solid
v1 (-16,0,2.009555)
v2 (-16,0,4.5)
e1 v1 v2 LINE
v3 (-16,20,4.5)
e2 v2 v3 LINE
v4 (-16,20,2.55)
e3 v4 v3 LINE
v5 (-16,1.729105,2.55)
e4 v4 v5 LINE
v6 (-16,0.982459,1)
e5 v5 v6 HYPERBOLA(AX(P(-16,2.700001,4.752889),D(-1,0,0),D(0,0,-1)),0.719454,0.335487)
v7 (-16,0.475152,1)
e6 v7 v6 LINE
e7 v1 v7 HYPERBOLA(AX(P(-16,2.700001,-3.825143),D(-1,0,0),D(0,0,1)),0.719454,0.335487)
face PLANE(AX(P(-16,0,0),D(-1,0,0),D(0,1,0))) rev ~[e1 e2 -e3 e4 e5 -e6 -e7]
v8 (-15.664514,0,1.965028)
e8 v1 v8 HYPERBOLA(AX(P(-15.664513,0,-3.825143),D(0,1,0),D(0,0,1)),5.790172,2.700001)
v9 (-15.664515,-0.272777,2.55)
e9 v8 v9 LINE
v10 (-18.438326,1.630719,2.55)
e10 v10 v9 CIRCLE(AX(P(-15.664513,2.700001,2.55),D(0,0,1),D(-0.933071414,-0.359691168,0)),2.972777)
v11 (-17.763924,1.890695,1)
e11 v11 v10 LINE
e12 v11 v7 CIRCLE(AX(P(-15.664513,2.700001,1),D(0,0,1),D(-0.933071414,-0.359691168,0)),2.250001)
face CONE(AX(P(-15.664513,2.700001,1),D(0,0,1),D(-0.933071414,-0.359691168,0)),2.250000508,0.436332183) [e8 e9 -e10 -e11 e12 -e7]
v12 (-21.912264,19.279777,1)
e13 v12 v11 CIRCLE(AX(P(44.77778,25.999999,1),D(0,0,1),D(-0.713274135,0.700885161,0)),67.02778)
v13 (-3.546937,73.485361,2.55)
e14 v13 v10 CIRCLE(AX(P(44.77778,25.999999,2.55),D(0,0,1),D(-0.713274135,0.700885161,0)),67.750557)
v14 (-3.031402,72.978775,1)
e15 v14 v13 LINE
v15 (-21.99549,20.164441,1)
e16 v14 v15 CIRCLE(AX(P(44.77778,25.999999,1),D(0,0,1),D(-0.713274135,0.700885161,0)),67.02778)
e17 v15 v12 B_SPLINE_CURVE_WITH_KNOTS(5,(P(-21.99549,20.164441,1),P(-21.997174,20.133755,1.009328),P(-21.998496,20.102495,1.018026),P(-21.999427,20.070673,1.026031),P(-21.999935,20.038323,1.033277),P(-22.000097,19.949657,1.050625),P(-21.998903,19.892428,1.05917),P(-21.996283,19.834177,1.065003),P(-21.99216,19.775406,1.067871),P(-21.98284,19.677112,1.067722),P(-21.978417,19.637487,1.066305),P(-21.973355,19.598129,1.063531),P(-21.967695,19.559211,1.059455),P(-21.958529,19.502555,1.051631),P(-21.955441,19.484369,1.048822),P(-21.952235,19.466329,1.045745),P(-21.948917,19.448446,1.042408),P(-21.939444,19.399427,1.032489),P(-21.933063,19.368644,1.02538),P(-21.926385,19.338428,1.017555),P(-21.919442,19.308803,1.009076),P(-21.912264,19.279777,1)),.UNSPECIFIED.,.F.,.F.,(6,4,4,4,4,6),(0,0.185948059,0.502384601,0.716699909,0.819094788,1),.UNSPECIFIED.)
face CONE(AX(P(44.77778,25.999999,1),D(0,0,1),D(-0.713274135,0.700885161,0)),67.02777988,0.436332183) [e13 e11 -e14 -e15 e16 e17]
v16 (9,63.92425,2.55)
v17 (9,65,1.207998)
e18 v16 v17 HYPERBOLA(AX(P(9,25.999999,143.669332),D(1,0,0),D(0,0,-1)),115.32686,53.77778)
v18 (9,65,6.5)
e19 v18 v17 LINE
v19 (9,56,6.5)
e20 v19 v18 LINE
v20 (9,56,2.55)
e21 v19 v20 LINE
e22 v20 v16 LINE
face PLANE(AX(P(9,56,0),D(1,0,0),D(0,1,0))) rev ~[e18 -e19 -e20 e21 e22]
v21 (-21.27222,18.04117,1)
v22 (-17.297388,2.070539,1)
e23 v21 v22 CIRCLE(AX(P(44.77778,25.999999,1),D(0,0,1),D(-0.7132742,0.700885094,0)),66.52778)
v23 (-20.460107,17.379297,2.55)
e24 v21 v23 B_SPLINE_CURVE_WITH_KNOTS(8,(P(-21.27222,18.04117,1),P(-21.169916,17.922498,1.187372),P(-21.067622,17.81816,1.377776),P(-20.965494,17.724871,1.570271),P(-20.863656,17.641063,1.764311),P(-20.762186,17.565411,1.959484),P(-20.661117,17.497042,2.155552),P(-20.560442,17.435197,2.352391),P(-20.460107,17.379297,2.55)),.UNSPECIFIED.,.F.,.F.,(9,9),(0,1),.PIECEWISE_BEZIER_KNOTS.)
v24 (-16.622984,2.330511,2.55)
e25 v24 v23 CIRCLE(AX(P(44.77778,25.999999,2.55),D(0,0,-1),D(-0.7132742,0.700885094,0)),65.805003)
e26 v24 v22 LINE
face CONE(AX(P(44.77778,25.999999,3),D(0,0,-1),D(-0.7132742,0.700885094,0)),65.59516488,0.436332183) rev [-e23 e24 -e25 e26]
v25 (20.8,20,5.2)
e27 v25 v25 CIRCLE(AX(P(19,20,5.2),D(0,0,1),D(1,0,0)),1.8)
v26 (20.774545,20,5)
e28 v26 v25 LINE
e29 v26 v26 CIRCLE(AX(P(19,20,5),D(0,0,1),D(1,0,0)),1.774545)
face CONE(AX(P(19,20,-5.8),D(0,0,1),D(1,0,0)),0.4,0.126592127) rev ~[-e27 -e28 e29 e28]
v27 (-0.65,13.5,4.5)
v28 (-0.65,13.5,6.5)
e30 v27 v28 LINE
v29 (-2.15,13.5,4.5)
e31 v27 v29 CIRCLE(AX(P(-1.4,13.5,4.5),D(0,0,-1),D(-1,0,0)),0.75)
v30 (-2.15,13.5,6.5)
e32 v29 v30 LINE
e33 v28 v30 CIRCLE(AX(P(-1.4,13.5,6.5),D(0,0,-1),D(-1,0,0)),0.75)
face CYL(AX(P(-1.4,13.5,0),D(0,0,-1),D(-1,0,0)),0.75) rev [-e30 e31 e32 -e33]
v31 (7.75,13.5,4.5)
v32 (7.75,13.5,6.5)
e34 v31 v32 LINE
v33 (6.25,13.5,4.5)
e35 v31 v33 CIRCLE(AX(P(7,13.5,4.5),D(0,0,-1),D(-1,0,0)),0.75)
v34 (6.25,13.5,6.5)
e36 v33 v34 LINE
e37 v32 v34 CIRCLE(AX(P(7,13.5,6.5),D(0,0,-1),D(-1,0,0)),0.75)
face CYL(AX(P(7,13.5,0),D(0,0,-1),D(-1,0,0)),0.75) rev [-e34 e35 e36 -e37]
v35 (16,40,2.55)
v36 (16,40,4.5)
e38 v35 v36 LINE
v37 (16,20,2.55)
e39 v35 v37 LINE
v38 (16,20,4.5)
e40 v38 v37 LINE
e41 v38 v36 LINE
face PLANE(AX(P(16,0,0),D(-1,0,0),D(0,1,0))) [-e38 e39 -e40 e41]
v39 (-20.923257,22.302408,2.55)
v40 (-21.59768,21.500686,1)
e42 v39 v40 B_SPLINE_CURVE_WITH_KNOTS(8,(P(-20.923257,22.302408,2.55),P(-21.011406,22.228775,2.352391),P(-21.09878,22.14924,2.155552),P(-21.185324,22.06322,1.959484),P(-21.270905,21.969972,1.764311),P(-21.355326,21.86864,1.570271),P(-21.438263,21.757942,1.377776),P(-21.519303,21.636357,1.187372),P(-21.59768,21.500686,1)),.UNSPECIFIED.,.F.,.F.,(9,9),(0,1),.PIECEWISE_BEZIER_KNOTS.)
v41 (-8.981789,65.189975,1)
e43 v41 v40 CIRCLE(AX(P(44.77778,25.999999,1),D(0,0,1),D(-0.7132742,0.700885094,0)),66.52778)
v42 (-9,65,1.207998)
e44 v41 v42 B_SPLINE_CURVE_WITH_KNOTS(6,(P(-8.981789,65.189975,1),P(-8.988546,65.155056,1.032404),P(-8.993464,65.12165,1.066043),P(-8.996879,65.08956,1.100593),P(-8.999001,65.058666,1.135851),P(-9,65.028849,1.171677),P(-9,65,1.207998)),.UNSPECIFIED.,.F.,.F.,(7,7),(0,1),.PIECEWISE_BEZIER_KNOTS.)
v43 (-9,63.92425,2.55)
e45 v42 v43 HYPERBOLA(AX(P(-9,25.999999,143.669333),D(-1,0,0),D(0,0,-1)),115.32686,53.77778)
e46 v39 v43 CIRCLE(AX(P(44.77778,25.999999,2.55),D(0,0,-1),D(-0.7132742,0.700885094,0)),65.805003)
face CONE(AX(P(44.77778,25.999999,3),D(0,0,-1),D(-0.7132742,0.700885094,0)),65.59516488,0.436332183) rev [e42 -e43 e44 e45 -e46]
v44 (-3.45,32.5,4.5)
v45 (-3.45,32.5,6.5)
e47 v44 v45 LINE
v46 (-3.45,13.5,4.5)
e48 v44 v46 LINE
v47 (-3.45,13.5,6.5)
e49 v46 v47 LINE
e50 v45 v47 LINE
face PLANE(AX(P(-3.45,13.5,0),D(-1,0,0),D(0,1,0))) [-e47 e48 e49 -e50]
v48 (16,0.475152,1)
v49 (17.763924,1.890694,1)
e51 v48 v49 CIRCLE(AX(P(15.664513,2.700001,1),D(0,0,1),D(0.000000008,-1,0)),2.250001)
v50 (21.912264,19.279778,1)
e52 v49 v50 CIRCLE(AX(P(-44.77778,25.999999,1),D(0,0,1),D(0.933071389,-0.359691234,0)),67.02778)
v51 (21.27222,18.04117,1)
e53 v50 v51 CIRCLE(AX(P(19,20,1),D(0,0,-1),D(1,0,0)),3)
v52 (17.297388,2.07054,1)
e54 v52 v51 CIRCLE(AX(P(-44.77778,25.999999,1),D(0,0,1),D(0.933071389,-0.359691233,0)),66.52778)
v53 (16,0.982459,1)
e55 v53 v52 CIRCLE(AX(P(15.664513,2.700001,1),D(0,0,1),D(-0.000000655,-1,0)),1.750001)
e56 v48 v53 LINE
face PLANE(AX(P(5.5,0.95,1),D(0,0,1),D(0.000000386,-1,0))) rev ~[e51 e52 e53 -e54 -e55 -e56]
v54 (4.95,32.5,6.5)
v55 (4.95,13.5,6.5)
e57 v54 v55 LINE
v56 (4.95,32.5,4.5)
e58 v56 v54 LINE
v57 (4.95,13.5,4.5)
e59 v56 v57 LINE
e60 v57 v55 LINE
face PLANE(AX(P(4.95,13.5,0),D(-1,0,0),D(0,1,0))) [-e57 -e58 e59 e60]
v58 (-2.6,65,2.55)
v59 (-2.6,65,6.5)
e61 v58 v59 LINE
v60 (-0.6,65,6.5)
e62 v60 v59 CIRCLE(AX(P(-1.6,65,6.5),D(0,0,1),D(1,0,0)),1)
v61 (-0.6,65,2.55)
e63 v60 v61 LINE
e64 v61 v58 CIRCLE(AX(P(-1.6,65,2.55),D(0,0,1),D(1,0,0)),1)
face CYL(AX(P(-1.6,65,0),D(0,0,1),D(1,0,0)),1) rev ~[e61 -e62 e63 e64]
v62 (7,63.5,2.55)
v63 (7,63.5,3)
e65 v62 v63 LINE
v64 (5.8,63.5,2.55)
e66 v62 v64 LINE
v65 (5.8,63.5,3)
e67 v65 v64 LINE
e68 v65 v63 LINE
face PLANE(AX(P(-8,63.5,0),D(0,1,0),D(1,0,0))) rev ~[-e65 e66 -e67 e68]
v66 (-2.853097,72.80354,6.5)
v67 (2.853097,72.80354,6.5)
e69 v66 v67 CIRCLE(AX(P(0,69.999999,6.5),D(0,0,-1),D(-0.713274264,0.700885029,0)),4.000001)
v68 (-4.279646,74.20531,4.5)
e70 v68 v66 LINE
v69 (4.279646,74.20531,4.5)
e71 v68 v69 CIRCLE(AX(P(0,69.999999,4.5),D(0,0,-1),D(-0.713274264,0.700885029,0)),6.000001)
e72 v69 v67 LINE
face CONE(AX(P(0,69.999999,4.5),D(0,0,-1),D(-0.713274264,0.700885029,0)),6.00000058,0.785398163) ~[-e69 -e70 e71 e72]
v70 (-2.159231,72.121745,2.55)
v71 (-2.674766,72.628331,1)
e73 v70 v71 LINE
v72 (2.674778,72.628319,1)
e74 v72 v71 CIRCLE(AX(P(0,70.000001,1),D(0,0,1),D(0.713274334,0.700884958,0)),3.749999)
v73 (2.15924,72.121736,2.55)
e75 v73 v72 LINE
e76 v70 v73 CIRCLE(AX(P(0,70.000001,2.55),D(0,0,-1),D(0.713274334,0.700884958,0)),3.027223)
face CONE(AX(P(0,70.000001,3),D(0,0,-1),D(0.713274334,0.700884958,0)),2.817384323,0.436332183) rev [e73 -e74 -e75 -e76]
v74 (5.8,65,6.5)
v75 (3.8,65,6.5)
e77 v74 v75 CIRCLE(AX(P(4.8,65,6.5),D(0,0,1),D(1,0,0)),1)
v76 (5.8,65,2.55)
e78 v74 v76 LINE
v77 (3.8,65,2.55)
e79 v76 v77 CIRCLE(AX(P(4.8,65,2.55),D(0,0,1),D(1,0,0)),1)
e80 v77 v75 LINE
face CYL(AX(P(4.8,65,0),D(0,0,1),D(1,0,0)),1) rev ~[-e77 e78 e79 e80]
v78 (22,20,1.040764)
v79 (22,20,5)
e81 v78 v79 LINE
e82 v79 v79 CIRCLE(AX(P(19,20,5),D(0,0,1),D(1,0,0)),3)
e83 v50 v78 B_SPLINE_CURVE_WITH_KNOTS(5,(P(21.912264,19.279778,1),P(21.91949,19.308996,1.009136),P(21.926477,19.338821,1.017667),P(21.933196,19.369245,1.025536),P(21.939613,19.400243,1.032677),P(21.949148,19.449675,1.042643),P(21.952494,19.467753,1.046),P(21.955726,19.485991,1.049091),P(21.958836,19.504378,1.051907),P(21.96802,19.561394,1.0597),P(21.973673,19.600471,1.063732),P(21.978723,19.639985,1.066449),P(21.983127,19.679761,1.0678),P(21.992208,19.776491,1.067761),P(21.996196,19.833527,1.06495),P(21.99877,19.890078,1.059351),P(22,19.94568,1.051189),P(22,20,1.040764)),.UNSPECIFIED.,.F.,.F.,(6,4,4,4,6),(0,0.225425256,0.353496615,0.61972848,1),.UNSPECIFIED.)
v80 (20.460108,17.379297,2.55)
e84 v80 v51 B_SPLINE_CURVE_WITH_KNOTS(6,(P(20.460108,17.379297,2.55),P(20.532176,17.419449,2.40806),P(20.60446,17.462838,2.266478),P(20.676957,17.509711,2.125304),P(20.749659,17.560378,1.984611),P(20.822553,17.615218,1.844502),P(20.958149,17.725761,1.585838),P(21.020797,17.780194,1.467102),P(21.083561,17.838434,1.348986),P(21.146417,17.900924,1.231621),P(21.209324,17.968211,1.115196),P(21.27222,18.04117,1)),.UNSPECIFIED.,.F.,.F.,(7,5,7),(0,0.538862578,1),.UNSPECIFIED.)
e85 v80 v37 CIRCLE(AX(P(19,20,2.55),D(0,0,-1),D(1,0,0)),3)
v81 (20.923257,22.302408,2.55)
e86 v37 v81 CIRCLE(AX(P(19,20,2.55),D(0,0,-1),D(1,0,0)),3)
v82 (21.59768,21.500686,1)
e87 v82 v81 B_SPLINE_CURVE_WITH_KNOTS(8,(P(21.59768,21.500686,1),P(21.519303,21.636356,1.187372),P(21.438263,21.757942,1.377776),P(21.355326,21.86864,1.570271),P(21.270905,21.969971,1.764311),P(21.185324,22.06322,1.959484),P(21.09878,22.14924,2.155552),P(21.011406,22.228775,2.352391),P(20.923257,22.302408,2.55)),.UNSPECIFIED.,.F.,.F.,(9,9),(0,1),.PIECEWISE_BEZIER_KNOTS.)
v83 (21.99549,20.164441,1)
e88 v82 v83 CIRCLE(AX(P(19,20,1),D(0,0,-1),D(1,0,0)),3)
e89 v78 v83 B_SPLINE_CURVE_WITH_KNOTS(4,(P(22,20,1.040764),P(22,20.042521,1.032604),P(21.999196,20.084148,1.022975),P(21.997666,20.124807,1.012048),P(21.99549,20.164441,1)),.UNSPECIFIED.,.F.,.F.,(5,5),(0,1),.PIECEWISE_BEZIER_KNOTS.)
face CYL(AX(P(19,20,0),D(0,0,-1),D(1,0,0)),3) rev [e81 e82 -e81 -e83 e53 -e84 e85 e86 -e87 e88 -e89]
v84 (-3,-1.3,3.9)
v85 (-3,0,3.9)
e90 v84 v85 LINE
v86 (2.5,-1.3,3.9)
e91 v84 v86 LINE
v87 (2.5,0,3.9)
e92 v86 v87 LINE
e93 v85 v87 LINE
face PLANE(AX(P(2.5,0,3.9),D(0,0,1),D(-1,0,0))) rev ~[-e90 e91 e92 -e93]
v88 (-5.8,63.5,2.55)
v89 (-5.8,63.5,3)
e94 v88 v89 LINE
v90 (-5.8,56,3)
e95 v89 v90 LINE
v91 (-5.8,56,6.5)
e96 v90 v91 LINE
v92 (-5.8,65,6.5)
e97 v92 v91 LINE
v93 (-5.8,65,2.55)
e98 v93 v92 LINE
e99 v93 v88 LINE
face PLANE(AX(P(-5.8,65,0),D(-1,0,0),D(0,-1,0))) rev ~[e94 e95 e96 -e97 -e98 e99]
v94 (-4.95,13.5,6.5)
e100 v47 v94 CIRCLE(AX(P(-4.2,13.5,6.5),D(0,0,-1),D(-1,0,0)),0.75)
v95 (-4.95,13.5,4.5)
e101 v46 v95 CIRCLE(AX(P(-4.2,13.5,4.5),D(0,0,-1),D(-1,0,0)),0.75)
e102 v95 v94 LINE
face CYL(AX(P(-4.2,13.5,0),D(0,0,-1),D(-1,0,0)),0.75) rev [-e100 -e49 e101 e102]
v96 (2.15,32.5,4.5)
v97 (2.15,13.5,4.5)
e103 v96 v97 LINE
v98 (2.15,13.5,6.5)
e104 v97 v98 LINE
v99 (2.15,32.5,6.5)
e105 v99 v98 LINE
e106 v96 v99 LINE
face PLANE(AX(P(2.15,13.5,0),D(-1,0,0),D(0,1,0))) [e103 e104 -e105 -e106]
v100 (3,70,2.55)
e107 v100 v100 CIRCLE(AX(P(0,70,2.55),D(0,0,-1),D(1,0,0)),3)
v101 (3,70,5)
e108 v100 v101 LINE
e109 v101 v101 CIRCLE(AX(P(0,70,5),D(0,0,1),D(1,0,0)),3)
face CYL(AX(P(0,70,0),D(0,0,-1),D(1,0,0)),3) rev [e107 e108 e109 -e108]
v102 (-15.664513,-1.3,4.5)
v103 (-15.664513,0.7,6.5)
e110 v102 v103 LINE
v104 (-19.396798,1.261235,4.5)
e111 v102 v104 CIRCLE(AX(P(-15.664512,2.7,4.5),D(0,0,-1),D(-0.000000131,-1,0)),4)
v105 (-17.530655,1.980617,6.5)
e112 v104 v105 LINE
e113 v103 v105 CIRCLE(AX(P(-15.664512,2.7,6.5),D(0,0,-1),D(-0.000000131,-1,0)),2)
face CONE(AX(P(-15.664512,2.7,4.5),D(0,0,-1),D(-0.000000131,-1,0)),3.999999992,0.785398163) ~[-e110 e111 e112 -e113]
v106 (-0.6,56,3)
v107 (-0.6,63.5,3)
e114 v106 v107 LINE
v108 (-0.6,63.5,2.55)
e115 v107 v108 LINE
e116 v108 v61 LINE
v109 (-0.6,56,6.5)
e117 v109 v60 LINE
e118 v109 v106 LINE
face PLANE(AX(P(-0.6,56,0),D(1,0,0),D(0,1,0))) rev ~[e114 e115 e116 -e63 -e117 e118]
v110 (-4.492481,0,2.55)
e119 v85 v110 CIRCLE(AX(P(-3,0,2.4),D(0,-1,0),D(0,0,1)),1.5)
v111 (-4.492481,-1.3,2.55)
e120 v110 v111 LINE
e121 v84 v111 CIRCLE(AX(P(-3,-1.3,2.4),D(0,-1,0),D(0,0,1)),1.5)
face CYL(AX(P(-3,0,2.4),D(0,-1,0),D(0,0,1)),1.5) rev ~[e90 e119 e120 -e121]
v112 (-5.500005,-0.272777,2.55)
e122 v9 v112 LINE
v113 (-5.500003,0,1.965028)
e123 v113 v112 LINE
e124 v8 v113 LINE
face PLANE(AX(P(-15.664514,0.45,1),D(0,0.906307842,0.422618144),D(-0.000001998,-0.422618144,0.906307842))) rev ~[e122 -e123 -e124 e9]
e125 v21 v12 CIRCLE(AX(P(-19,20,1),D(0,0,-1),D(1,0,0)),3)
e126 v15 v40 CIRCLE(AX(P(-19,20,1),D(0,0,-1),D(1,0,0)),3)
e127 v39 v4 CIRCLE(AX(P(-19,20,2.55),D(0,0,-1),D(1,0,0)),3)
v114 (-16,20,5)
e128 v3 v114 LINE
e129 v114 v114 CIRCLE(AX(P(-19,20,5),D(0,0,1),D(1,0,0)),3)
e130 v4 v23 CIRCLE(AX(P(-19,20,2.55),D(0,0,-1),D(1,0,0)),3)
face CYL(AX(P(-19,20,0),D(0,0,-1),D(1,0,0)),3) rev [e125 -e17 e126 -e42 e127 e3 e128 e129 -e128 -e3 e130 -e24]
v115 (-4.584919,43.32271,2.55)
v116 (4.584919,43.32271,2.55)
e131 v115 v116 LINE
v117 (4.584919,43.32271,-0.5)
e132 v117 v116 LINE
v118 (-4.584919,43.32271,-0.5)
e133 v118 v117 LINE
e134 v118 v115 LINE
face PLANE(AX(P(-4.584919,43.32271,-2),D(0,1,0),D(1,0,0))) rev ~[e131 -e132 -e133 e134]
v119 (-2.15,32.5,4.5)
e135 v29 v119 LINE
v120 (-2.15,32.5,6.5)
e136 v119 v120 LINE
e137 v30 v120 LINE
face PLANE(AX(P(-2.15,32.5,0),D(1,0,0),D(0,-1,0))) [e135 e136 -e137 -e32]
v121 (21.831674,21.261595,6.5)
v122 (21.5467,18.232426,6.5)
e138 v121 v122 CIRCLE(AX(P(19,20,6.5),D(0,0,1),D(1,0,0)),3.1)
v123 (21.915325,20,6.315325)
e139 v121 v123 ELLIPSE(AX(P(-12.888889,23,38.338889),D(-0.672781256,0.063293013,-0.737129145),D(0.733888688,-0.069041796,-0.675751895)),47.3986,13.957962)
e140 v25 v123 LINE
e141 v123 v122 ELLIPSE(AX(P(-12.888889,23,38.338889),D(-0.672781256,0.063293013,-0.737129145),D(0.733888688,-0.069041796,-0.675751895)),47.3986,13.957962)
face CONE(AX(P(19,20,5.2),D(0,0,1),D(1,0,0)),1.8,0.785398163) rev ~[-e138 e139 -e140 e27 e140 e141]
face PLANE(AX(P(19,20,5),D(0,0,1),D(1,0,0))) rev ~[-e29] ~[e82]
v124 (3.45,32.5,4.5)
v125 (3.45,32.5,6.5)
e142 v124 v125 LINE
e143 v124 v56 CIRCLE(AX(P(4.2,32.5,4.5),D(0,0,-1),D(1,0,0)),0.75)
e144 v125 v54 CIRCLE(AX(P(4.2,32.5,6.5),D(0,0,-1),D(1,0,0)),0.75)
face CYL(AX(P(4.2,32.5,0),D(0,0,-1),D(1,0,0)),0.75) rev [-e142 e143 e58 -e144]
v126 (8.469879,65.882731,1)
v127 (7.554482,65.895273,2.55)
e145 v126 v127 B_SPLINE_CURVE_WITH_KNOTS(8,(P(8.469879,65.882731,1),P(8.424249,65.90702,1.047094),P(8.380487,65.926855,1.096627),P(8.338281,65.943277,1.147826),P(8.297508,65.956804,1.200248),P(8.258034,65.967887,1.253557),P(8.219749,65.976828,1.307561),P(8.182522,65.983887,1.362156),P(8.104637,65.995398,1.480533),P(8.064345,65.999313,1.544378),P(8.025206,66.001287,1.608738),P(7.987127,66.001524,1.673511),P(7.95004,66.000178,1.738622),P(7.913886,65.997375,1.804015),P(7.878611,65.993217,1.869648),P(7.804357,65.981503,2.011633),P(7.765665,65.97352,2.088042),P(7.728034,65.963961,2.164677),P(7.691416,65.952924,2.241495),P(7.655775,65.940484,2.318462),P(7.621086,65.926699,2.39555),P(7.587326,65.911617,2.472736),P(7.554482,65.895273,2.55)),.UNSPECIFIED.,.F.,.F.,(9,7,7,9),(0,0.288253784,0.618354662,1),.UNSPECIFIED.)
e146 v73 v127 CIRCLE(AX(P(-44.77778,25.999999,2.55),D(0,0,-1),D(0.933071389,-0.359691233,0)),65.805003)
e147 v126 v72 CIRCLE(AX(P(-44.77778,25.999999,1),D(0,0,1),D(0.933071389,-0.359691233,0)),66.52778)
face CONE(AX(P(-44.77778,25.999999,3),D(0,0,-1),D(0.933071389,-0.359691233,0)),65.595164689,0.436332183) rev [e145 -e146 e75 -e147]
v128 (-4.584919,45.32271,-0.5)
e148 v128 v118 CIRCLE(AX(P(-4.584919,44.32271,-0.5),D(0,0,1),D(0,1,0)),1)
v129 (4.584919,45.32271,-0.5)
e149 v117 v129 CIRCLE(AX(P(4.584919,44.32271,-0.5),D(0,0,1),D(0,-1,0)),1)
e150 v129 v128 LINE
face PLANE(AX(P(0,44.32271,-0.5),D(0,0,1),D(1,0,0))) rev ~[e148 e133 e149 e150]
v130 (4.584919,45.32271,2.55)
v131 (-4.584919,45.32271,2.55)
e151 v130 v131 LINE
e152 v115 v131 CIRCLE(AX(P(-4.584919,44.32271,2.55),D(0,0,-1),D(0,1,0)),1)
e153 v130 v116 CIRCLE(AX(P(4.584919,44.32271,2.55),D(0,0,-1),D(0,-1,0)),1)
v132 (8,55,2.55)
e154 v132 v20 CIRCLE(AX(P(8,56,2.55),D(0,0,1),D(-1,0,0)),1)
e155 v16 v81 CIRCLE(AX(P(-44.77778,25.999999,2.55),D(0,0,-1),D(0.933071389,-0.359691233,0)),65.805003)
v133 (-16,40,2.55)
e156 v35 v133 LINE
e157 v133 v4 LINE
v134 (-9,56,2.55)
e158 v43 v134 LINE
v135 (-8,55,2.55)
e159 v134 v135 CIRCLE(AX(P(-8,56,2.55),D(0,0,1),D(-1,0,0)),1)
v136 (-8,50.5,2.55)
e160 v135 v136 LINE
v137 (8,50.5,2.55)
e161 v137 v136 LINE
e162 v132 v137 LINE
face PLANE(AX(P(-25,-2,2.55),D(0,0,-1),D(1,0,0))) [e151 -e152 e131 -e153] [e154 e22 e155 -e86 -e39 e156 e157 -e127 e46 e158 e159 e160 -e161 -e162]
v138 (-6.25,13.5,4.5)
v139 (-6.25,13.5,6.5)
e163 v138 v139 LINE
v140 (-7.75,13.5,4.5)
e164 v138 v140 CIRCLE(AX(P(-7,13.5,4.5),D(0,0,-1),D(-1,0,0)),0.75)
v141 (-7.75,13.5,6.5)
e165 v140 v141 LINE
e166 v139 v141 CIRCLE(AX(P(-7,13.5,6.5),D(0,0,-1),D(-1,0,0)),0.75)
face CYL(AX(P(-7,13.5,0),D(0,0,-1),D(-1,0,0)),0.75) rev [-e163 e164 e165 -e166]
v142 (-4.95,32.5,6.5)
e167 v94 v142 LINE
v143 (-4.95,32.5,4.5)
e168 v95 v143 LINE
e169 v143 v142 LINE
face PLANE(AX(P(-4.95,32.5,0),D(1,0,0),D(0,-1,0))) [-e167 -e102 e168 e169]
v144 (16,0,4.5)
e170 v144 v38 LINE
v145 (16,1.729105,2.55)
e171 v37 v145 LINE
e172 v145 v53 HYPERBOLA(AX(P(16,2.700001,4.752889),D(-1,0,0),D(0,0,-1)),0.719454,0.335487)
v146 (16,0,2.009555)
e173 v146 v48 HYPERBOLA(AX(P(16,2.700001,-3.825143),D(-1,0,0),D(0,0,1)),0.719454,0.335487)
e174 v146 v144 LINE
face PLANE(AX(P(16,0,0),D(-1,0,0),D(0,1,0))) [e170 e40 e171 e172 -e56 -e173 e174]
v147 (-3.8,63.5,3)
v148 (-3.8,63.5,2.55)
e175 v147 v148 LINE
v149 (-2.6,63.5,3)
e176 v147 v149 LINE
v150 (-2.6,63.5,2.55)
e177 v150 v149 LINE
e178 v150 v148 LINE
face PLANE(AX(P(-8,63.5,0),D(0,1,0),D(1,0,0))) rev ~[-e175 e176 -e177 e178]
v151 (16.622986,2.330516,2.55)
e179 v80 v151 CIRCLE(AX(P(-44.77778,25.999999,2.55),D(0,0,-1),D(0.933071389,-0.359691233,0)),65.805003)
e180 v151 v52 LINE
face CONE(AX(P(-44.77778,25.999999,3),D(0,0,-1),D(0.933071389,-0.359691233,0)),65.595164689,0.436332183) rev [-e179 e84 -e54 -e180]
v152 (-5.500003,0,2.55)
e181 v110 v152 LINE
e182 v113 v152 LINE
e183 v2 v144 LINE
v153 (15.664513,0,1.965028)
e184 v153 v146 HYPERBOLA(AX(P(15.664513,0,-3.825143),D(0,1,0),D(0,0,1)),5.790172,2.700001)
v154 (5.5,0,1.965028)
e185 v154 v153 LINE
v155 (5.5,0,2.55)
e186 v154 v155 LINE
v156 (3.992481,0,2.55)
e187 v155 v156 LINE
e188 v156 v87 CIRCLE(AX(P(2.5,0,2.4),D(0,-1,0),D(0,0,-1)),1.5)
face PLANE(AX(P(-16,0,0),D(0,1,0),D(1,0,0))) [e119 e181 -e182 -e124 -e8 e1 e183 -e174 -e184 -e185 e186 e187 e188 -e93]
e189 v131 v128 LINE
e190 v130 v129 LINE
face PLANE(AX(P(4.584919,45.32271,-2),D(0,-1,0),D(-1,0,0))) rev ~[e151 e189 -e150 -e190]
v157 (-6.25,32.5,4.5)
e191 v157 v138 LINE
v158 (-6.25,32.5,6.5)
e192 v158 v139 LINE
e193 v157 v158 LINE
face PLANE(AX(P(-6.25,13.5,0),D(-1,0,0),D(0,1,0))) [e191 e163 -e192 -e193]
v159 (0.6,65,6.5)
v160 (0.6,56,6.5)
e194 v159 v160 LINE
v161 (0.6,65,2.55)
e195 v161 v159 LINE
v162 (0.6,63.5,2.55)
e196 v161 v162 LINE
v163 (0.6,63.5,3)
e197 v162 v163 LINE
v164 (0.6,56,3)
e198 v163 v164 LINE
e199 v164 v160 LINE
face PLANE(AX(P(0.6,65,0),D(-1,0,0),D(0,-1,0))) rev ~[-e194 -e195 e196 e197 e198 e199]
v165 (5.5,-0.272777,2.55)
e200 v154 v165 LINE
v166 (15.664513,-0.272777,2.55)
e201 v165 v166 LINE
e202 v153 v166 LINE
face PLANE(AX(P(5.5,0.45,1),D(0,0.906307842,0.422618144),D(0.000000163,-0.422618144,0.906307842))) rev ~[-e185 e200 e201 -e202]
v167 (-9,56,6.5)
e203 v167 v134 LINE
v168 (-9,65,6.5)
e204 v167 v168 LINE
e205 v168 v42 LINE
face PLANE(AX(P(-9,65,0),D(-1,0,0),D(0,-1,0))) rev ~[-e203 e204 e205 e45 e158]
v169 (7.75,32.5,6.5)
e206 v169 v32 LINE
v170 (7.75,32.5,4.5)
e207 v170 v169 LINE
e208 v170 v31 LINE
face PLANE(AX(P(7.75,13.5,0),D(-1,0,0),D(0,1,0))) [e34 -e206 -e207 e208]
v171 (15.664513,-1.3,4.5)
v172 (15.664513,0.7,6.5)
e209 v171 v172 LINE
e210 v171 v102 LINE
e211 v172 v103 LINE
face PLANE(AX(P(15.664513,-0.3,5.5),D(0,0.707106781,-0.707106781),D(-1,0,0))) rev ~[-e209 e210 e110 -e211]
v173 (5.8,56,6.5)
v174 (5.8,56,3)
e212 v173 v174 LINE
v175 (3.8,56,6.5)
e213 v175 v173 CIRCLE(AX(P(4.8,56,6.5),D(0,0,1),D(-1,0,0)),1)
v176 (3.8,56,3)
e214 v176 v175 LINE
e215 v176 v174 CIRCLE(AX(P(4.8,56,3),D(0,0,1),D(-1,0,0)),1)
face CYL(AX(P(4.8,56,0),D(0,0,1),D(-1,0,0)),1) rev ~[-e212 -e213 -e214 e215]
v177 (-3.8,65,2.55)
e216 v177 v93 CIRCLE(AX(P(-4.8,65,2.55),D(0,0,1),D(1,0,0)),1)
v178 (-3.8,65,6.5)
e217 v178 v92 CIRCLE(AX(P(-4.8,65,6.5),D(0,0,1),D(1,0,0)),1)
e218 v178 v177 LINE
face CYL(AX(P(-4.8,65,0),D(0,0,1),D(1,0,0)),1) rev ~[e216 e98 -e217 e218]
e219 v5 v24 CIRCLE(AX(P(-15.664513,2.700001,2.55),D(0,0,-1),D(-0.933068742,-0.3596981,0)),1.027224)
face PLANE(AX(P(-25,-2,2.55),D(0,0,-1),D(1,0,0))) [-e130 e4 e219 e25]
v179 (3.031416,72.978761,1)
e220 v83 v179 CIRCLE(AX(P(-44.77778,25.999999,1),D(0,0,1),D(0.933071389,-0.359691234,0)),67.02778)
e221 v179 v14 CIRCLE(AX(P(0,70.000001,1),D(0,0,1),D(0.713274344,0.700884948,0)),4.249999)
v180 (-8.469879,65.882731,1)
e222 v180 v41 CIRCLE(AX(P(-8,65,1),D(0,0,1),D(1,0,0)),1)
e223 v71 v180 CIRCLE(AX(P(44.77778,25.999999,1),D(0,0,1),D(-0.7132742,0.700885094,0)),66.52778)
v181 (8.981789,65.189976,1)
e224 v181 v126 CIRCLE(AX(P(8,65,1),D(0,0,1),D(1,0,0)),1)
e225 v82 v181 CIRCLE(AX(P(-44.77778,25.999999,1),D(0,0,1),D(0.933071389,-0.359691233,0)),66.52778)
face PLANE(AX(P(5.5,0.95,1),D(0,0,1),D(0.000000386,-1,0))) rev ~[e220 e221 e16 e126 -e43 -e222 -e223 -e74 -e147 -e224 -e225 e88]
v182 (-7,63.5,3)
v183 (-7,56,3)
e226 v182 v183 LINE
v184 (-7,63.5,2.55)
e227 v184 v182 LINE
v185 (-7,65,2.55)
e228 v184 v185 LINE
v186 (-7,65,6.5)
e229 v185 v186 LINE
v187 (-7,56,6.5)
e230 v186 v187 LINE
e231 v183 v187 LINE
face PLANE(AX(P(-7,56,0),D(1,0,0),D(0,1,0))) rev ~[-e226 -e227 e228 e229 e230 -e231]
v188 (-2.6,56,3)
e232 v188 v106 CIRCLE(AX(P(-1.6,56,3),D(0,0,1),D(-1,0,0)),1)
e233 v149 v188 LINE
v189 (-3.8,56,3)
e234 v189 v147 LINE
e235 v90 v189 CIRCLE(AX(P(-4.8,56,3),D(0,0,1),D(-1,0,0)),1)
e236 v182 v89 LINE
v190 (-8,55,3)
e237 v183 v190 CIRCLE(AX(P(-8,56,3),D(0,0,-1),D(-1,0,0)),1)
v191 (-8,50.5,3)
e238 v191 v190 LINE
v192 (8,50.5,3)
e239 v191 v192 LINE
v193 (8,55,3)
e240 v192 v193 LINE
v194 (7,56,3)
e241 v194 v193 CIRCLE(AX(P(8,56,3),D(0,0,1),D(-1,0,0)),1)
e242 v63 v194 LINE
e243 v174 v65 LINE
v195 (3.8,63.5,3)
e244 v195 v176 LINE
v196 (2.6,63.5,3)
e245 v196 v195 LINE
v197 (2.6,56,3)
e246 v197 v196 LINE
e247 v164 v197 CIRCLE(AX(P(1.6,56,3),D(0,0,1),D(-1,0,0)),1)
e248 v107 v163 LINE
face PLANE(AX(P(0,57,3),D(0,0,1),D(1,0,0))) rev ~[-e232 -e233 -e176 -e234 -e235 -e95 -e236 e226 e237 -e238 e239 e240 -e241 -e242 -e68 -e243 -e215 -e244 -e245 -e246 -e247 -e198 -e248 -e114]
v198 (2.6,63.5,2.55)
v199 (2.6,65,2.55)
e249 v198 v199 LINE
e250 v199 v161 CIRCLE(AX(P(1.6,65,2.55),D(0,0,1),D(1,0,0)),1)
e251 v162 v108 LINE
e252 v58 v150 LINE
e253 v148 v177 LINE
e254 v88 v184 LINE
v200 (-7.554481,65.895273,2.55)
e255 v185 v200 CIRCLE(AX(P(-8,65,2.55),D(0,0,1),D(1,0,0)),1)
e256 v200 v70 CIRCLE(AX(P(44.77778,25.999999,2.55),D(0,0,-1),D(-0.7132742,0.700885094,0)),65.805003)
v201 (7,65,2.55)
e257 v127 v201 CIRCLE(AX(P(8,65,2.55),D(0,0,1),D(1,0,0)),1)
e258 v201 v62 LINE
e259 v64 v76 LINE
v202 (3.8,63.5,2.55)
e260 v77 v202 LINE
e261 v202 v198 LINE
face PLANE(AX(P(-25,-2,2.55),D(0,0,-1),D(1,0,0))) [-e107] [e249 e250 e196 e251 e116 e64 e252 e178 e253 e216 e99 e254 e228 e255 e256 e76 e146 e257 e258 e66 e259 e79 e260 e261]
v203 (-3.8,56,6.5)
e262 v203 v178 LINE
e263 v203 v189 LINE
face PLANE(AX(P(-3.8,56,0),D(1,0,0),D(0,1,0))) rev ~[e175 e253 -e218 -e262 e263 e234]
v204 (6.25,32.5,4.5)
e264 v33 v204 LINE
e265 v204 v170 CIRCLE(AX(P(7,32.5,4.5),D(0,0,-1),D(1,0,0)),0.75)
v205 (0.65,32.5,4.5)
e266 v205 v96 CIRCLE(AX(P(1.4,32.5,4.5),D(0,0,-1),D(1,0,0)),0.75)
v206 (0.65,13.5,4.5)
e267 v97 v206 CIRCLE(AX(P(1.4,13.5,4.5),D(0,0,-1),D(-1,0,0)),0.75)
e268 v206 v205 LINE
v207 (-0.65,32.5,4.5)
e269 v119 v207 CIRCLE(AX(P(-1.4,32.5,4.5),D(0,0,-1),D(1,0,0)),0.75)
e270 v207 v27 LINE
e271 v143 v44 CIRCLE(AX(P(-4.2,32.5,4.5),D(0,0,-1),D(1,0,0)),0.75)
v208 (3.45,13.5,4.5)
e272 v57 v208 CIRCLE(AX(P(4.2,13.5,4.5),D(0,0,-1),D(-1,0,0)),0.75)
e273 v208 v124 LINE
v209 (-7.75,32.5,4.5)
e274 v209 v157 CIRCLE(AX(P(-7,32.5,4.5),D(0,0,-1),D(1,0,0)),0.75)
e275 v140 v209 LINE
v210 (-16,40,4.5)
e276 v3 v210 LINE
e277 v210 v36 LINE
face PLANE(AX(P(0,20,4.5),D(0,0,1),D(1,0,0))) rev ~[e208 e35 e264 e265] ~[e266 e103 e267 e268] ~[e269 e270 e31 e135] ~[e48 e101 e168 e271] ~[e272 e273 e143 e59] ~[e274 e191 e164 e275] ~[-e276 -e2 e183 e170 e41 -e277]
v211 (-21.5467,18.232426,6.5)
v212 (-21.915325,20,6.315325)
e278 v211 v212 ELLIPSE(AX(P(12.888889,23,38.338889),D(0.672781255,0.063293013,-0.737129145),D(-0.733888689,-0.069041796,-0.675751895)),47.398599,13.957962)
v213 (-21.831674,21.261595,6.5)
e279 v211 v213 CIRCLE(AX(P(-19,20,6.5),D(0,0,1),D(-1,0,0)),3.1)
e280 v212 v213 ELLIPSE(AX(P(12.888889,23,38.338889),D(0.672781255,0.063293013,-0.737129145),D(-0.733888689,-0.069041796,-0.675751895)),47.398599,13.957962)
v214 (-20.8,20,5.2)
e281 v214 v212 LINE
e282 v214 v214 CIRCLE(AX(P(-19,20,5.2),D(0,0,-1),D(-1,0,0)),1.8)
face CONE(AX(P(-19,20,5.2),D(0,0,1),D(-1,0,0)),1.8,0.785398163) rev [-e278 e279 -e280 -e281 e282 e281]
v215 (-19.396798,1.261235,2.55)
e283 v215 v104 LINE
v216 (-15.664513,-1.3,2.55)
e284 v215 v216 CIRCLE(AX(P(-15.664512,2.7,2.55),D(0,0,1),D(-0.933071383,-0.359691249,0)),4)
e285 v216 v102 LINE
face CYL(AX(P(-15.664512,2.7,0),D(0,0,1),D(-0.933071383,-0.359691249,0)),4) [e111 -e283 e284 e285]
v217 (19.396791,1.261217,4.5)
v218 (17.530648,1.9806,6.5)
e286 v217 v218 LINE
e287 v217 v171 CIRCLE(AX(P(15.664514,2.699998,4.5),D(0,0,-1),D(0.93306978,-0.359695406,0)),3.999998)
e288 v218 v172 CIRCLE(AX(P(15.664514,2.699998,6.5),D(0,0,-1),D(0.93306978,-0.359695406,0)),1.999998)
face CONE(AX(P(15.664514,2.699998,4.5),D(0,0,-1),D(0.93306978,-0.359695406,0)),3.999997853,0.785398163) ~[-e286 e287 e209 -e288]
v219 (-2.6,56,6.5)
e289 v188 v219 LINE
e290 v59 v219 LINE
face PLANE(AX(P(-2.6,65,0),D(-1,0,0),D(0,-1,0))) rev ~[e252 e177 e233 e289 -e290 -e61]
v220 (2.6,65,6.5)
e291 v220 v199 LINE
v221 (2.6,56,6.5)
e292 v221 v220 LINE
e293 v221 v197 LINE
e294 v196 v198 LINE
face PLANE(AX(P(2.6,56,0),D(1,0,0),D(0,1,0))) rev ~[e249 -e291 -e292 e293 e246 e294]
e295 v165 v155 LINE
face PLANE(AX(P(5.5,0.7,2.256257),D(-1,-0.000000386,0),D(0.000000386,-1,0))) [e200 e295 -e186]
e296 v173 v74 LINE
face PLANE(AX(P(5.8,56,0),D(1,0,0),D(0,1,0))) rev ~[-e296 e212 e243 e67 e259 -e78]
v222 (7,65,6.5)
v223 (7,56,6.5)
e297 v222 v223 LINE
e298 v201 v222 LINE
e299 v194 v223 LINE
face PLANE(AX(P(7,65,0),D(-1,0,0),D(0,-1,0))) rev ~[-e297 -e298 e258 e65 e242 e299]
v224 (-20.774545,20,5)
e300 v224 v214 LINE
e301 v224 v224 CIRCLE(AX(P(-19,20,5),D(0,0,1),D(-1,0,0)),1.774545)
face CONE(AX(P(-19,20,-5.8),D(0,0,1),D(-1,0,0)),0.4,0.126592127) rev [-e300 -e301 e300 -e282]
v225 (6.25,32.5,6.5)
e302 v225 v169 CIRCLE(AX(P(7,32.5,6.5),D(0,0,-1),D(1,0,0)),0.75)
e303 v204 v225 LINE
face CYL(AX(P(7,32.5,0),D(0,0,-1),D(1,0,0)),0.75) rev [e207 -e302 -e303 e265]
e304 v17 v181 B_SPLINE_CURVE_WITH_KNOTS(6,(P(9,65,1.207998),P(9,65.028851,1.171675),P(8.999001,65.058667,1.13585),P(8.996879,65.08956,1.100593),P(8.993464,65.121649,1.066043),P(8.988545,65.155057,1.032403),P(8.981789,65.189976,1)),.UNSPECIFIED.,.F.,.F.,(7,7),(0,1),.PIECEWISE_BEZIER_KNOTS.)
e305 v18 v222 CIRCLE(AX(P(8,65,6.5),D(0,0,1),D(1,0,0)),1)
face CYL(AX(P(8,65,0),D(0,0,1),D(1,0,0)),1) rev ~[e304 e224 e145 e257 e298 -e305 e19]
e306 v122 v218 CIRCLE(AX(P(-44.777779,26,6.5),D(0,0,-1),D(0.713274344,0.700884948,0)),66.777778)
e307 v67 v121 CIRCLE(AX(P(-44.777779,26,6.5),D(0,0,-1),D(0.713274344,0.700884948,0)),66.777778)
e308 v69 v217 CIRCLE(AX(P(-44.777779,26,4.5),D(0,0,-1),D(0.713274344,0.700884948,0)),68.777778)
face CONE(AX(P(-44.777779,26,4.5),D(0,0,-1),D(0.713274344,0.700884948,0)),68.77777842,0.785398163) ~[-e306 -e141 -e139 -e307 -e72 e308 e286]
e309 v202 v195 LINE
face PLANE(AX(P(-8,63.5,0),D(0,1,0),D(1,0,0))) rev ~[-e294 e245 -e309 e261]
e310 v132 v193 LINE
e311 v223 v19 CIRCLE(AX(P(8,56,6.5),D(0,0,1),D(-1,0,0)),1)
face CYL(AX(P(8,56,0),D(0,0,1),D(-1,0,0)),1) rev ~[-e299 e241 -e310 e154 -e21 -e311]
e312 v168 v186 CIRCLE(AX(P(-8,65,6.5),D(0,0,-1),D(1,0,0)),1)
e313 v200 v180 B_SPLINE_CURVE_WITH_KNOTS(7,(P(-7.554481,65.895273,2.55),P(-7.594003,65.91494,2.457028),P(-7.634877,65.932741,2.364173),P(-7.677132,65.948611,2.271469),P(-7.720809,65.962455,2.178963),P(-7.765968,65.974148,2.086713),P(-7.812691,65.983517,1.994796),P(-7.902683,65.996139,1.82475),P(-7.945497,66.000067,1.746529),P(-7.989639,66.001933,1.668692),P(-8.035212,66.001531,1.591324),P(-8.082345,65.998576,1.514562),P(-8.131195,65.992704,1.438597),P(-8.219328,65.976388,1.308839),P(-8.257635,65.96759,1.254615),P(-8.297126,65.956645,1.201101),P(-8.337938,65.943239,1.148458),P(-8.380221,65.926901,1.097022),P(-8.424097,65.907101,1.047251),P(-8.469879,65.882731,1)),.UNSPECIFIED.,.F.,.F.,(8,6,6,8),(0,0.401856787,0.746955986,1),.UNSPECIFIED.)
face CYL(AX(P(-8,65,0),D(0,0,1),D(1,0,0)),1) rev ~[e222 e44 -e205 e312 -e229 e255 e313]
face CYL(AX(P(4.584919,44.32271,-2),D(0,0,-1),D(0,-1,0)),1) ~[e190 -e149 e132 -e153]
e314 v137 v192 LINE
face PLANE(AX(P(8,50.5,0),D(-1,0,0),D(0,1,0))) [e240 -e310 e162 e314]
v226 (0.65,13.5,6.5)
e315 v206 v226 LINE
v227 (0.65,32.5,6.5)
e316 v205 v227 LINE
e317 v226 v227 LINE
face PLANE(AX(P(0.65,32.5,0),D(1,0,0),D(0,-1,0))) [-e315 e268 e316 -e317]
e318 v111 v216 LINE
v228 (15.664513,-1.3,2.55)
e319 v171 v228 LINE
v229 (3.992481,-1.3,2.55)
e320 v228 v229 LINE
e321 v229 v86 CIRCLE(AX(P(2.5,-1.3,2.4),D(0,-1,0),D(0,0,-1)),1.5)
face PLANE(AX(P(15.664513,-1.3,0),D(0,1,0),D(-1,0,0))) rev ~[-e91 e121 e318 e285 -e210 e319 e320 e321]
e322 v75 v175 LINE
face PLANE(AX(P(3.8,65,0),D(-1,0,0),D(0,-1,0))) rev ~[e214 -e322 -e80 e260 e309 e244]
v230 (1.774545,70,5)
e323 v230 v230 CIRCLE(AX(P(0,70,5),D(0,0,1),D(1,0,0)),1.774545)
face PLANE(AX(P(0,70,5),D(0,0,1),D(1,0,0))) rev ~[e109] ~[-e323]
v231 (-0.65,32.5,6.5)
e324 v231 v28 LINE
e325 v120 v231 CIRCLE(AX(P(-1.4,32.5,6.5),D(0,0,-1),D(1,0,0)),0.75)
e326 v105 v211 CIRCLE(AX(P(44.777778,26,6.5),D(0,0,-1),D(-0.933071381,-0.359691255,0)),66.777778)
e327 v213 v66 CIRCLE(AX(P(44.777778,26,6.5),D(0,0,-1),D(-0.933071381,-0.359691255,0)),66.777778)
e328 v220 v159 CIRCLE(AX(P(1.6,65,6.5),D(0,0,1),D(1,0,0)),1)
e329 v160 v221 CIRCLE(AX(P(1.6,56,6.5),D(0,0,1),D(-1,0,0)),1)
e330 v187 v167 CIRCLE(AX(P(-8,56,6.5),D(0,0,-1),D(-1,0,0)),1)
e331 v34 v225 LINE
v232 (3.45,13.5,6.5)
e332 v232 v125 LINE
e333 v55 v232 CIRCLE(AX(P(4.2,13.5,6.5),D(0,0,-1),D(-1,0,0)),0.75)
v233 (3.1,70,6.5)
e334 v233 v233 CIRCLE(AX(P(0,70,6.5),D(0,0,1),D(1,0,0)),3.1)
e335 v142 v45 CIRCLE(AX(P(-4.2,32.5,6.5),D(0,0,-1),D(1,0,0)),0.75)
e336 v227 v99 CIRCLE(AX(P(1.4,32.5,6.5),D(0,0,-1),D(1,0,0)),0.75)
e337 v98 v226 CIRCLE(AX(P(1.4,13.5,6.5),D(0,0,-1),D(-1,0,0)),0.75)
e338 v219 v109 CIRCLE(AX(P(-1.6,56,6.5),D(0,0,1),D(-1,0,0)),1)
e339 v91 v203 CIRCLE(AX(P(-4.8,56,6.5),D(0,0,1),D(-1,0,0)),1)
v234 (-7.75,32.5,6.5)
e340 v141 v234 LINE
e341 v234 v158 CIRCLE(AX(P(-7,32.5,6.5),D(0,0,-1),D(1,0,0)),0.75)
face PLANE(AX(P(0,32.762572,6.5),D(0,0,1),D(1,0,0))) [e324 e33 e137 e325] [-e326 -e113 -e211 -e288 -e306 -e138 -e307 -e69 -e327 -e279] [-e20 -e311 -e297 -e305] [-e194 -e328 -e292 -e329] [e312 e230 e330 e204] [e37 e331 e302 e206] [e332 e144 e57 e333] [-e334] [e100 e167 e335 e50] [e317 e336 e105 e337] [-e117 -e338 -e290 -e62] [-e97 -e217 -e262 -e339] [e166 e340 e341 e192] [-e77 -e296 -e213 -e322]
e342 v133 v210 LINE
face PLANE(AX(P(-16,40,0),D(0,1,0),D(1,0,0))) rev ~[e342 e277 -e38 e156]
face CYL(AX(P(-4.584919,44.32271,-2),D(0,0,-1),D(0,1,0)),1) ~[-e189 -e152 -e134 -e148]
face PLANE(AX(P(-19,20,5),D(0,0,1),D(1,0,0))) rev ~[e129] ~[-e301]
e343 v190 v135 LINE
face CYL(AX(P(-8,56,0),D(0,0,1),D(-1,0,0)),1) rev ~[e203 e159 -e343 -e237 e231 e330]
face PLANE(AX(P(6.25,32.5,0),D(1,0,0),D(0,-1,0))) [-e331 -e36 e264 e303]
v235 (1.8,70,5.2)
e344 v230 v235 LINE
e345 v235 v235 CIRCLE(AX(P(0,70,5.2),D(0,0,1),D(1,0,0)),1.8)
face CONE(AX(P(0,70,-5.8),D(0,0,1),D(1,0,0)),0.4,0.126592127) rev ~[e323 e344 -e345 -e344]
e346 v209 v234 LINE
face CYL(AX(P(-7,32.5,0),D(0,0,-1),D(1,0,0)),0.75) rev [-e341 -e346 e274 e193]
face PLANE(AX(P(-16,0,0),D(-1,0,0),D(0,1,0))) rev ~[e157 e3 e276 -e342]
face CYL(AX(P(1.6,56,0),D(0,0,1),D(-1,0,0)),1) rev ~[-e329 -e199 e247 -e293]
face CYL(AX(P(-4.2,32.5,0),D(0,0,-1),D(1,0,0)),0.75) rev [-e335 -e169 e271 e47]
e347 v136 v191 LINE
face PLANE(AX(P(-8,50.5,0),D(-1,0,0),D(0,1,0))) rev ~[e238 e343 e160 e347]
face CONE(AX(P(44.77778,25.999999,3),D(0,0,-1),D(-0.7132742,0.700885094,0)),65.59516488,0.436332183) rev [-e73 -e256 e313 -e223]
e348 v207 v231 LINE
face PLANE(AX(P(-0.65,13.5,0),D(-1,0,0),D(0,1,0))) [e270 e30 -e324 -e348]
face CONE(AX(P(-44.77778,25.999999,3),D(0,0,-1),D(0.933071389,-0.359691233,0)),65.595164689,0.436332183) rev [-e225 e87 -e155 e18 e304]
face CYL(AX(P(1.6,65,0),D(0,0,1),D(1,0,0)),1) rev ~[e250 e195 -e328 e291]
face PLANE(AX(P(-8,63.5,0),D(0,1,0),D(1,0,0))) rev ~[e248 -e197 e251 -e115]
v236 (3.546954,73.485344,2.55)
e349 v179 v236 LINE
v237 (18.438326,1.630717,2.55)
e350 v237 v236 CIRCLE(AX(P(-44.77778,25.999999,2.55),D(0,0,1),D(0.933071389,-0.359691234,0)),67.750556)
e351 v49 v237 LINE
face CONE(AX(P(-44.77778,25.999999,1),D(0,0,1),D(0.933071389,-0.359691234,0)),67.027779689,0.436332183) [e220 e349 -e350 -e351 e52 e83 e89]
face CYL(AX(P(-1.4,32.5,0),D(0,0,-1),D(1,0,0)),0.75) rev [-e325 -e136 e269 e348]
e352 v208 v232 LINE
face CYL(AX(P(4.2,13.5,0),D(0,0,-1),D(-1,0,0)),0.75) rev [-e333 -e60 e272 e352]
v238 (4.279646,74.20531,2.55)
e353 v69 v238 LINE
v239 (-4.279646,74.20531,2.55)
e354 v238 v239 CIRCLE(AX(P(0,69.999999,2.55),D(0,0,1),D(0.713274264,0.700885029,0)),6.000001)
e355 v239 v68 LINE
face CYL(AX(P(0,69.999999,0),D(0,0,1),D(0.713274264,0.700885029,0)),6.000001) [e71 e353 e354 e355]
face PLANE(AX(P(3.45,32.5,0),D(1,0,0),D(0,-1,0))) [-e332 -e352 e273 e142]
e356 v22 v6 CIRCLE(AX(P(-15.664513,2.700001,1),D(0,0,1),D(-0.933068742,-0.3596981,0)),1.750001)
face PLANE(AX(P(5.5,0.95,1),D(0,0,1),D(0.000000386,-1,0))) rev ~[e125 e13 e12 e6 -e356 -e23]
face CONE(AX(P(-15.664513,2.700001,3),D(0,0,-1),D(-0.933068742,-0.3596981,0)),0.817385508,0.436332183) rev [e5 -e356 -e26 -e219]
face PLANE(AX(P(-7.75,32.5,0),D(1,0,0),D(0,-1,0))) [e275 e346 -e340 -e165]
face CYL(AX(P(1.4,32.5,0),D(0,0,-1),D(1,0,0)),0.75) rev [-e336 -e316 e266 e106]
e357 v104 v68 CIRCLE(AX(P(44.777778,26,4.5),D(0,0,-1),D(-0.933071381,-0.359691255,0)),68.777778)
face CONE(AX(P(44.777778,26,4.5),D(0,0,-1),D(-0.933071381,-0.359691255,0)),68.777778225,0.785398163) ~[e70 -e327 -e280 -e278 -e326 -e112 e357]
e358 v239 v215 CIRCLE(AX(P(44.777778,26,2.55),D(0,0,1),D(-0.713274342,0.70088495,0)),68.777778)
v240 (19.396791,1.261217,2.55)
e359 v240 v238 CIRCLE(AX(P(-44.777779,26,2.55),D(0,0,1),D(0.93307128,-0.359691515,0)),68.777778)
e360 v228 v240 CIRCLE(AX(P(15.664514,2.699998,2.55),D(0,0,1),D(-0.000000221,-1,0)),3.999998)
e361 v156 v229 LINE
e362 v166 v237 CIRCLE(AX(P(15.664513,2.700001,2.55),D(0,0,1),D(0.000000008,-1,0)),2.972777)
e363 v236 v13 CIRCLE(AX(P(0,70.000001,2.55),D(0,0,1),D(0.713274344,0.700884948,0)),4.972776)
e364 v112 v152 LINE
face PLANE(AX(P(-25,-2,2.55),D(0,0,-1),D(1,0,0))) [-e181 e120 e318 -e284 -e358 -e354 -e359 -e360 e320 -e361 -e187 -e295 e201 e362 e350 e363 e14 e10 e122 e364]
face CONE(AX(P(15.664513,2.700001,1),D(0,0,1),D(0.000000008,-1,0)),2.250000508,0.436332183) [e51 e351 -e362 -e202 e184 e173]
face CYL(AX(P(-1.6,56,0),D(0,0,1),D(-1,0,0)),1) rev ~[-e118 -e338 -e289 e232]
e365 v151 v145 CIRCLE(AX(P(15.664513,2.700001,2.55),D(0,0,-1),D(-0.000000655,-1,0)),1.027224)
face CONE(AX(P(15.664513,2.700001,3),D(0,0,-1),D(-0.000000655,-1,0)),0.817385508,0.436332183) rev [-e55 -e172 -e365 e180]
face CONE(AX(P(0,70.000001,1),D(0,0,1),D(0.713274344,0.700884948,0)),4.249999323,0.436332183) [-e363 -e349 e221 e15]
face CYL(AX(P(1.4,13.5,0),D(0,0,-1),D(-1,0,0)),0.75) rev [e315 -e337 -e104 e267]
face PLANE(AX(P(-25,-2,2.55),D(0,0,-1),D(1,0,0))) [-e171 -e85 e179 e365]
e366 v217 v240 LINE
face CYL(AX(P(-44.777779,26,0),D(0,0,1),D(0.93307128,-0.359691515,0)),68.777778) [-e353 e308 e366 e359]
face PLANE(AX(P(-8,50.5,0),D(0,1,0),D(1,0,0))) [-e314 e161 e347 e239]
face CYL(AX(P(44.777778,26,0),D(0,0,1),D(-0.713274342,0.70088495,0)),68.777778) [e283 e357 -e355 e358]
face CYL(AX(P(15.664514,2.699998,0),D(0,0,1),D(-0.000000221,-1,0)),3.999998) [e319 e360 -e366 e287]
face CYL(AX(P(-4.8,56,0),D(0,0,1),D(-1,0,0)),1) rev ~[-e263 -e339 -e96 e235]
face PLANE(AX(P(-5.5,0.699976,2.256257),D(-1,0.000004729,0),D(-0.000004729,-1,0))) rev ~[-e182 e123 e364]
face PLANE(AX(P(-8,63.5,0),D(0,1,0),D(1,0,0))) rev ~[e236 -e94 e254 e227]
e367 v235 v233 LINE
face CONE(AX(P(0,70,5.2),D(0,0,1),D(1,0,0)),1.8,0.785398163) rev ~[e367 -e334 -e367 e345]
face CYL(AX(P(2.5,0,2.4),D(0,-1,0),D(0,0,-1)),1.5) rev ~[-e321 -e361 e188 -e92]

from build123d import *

# Parameters (mm, degrees)
SKETCH041_W            = 50
SKETCH041_H            = 4.45
PAD014_DEPTH           = 80
PAD013_DEPTH           = 8
SKETCH042_R            = 3
POCKET011_DEPTH        = 5
PAD011_DEPTH           = 6.5
CHAMFER_SIZE           = 2
SKETCH020_W            = 32
SKETCH020_H            = 40
POCKET004_DEPTH        = 4.5
SKETCH021_W            = 16
SKETCH021_H            = 13
POCKET005_DEPTH        = 3
POCKET006_DEPTH        = 2
PAD012_DEPTH           = 2.5
POCKET007_DEPTH        = 5
POCKET008_DEPTH        = 6.501
LINEARPATTERN001_COUNT = 6
LINEARPATTERN001_PITCH = 2.8
POCKET009_DEPTH        = 6.501
POCKET009_DEPTH_BACK   = 6.501
LINEARPATTERN002_COUNT = 6
LINEARPATTERN002_PITCH = 3.2


with BuildPart() as separation_top:
    # Sketch041 → Pad014 (new body)
    with BuildSketch(Plane.XZ.offset(2)):
        with Locations((0, 4.775)):
            Rectangle(SKETCH041_W, SKETCH041_H)
    extrude(amount=-PAD014_DEPTH)

    # AdditivePipe: sweep along a path in Sketch033
    with BuildLine(Plane.XY) as additivepipe_path:
        Line((5.5, 0.7), (15.664513, 0.7))
        ThreePointArc((15.664513, 0.7), (16.796157, 1.050945), (17.530656, 1.980617))
        ThreePointArc((17.530656, 1.980617), (20.610558, 39.551278), (2.853097, 72.80354))
        ThreePointArc((2.853097, 72.80354), (1e-05, 74), (-2.853084, 72.803553))
        ThreePointArc((-2.853084, 72.803553), (-20.610556, 39.551287), (-17.530656, 1.980617))
        ThreePointArc((-17.530656, 1.980617), (-16.796157, 1.050945), (-15.664513, 0.7))
        Line((-15.664513, 0.7), (-5.5, 0.7))
    # Sketch032 → AdditivePipe (sweep)
    with BuildSketch(Plane.YZ):
        Polygon((75.182615, 3), (72.817385, 3), (73.75, 1), (74.25, 1), align=None)
    sweep(path=additivepipe_path.line)

    # Sketch040 → Pad013 (join)
    with BuildSketch(Plane.XY.offset(-2)):
        with BuildLine():
            ThreePointArc((-4.584919, 45.32271), (-5.584919, 44.32271), (-4.584919, 43.32271))
            Line((-4.584919, 43.32271), (4.584919, 43.32271))
            ThreePointArc((4.584919, 43.32271), (5.584919, 44.32271), (4.584919, 45.32271))
            Line((4.584919, 45.32271), (-4.584919, 45.32271))
        make_face()
    extrude(amount=PAD013_DEPTH)

    # Sketch042 → Pocket011 (cut)
    with BuildSketch(Plane.XY):
        with Locations((19, 20)):
            Circle(SKETCH042_R)
        with Locations((-19, 20)):
            Circle(SKETCH042_R)
        with Locations((0, 70)):
            Circle(SKETCH042_R)
    extrude(amount=POCKET011_DEPTH, mode=Mode.SUBTRACT)


with BuildPart() as top_housing:
    # Sketch019 → Pad011 (new body, symmetric)
    with BuildSketch(Plane.XY):
        with BuildLine():
            ThreePointArc((4.279646, 74.20531), (0, 76), (-4.279646, 74.20531))
            ThreePointArc((-4.279646, 74.20531), (-22.568944, 39.95714), (-19.396798, 1.261235))
            ThreePointArc((-19.396798, 1.261235), (-17.9278, -0.59811), (-15.664513, -1.3))
            Line((15.664513, -1.3), (-15.664513, -1.3))
            ThreePointArc((15.664513, -1.3), (17.927792, -0.598116), (19.396791, 1.261217))
            ThreePointArc((19.396791, 1.261217), (22.568946, 39.95713), (4.279646, 74.20531))
        make_face()
    extrude(amount=PAD011_DEPTH, both=True)

    # Chamfer
    chamfer_edges = [top_housing.edges().sort_by_distance(p)[0] for p in [
        (0, -1.3, 6.5),
        (0, -1.3, -6.5),
    ]]
    chamfer(chamfer_edges, length=CHAMFER_SIZE)

    # Sketch020 → Pocket004 (cut)
    with BuildSketch(Plane.XY):
        with Locations((0, 20)):
            Rectangle(SKETCH020_W, SKETCH020_H)
    extrude(amount=POCKET004_DEPTH, mode=Mode.SUBTRACT)

    # Sketch021 → Pocket005 (cut)
    with BuildSketch(Plane.XY):
        with Locations((0, 57)):
            Rectangle(SKETCH021_W, SKETCH021_H)
    extrude(amount=POCKET005_DEPTH, mode=Mode.SUBTRACT)

    # Sketch022 → Pocket006 (cut, symmetric)
    with BuildSketch(Plane.XY):
        with BuildLine():
            ThreePointArc((-6.35, 54.4), (-8.125922, 53.319838), (-7.98356, 51.246101))
            ThreePointArc((-14.445285, 32.796789), (-6.459474, 40.356063), (-7.98356, 51.246101))
            ThreePointArc((-14.445285, 32.796789), (-15.279151, 32.221131), (-15.6, 31.26))
            Line((-15.6, 8.4), (-15.6, 31.26))
            ThreePointArc((-15.6, 8.4), (-15.131371, 7.268629), (-14, 6.8))
            Line((14, 6.8), (-14, 6.8))
            ThreePointArc((14, 6.8), (15.131371, 7.268629), (15.6, 8.4))
            Line((15.6, 31.26), (15.6, 8.4))
            ThreePointArc((15.6, 31.26), (15.279151, 32.221131), (14.445285, 32.796789))
            ThreePointArc((7.98356, 51.246101), (6.459474, 40.356063), (14.445285, 32.796789))
            ThreePointArc((7.98356, 51.246101), (8.125922, 53.319838), (6.35, 54.4))
            Line((6.35, 54.4), (-6.35, 54.4))
        make_face()
    extrude(amount=POCKET006_DEPTH, both=True, mode=Mode.SUBTRACT)

    # Sketch039 → Pad012 (join)
    with BuildSketch(Plane.XY.offset(-0.5)):
        with BuildLine():
            ThreePointArc((-4.584919, 45.32271), (-5.584919, 44.32271), (-4.584919, 43.32271))
            Line((-4.584919, 43.32271), (4.584919, 43.32271))
            ThreePointArc((4.584919, 43.32271), (5.584919, 44.32271), (4.584919, 45.32271))
            Line((4.584919, 45.32271), (-4.584919, 45.32271))
        make_face()
    extrude(amount=PAD012_DEPTH)

    # Sketch023 → Pocket007 (cut, symmetric)
    with BuildSketch(Plane.XZ):
        with BuildLine():
            ThreePointArc((-3, 3.9), (-4.5, 2.4), (-3, 0.9))
            Line((-3, 0.9), (2.5, 0.9))
            ThreePointArc((2.5, 0.9), (4, 2.4), (2.5, 3.9))
            Line((2.5, 3.9), (-3, 3.9))
        make_face()
    extrude(amount=POCKET007_DEPTH, both=True, mode=Mode.SUBTRACT)

    # Sketch025 → Pocket008 (cut, through all)
    with BuildSketch(Plane.XY):
        with BuildLine():
            ThreePointArc((-6.25, 32.5), (-7, 33.25), (-7.75, 32.5))
            Line((-7.75, 32.5), (-7.75, 13.5))
            ThreePointArc((-7.75, 13.5), (-7, 12.75), (-6.25, 13.5))
            Line((-6.25, 13.5), (-6.25, 32.5))
        make_face()
    pocket008 = extrude(amount=POCKET008_DEPTH, mode=Mode.SUBTRACT)

    # LinearPattern001: Pocket008 ×6
    with Locations(*[(i * LINEARPATTERN001_PITCH, 0, 0) for i in range(1, LINEARPATTERN001_COUNT)]):
        add(pocket008, mode=Mode.SUBTRACT)

    # Sketch026 → Pocket009 (cut, two sides)
    with BuildSketch(Plane.XY) as pocket009_sk:
        with BuildLine():
            ThreePointArc((-7, 65), (-8, 66), (-9, 65))
            Line((-9, 65), (-9, 56))
            ThreePointArc((-9, 56), (-8, 55), (-7, 56))
            Line((-7, 56), (-7, 65))
        make_face()
    pocket009 = extrude(amount=-POCKET009_DEPTH, mode=Mode.SUBTRACT) + extrude(pocket009_sk.sketch, amount=POCKET009_DEPTH_BACK, mode=Mode.SUBTRACT)

    # LinearPattern002: Pocket009 ×6
    with Locations(*[(i * LINEARPATTERN002_PITCH, 0, 0) for i in range(1, LINEARPATTERN002_COUNT)]):
        add(pocket009, mode=Mode.SUBTRACT)

    # Sketch027 → Groove (revolve, cut)
    with BuildSketch(Plane.XZ.offset(-20)):
        Polygon((19, 6.7), (19, -5.8), (19.4, -5.8), (20.8, 5.2), (22.3, 6.7), align=None)
    groove = revolve(axis=Axis((19, 20, 6.7), (0, 0, 1)), mode=Mode.SUBTRACT)

    # Mirrored: Groove across YZ
    add(groove.mirror(Plane.YZ), mode=Mode.SUBTRACT)

    # Sketch028 → Groove001 (revolve, cut)
    with BuildSketch(Plane.XZ.offset(-70)):
        Polygon((0, 6.7), (0, -5.8), (0.4, -5.8), (1.8, 5.2), (3.3, 6.7), align=None)
    revolve(axis=Axis((0, 70, 6.7), (0, 0, 1)), mode=Mode.SUBTRACT)

    # Common: intersect Separation top
    add(separation_top.part, mode=Mode.INTERSECT)


solid = top_housing.part
